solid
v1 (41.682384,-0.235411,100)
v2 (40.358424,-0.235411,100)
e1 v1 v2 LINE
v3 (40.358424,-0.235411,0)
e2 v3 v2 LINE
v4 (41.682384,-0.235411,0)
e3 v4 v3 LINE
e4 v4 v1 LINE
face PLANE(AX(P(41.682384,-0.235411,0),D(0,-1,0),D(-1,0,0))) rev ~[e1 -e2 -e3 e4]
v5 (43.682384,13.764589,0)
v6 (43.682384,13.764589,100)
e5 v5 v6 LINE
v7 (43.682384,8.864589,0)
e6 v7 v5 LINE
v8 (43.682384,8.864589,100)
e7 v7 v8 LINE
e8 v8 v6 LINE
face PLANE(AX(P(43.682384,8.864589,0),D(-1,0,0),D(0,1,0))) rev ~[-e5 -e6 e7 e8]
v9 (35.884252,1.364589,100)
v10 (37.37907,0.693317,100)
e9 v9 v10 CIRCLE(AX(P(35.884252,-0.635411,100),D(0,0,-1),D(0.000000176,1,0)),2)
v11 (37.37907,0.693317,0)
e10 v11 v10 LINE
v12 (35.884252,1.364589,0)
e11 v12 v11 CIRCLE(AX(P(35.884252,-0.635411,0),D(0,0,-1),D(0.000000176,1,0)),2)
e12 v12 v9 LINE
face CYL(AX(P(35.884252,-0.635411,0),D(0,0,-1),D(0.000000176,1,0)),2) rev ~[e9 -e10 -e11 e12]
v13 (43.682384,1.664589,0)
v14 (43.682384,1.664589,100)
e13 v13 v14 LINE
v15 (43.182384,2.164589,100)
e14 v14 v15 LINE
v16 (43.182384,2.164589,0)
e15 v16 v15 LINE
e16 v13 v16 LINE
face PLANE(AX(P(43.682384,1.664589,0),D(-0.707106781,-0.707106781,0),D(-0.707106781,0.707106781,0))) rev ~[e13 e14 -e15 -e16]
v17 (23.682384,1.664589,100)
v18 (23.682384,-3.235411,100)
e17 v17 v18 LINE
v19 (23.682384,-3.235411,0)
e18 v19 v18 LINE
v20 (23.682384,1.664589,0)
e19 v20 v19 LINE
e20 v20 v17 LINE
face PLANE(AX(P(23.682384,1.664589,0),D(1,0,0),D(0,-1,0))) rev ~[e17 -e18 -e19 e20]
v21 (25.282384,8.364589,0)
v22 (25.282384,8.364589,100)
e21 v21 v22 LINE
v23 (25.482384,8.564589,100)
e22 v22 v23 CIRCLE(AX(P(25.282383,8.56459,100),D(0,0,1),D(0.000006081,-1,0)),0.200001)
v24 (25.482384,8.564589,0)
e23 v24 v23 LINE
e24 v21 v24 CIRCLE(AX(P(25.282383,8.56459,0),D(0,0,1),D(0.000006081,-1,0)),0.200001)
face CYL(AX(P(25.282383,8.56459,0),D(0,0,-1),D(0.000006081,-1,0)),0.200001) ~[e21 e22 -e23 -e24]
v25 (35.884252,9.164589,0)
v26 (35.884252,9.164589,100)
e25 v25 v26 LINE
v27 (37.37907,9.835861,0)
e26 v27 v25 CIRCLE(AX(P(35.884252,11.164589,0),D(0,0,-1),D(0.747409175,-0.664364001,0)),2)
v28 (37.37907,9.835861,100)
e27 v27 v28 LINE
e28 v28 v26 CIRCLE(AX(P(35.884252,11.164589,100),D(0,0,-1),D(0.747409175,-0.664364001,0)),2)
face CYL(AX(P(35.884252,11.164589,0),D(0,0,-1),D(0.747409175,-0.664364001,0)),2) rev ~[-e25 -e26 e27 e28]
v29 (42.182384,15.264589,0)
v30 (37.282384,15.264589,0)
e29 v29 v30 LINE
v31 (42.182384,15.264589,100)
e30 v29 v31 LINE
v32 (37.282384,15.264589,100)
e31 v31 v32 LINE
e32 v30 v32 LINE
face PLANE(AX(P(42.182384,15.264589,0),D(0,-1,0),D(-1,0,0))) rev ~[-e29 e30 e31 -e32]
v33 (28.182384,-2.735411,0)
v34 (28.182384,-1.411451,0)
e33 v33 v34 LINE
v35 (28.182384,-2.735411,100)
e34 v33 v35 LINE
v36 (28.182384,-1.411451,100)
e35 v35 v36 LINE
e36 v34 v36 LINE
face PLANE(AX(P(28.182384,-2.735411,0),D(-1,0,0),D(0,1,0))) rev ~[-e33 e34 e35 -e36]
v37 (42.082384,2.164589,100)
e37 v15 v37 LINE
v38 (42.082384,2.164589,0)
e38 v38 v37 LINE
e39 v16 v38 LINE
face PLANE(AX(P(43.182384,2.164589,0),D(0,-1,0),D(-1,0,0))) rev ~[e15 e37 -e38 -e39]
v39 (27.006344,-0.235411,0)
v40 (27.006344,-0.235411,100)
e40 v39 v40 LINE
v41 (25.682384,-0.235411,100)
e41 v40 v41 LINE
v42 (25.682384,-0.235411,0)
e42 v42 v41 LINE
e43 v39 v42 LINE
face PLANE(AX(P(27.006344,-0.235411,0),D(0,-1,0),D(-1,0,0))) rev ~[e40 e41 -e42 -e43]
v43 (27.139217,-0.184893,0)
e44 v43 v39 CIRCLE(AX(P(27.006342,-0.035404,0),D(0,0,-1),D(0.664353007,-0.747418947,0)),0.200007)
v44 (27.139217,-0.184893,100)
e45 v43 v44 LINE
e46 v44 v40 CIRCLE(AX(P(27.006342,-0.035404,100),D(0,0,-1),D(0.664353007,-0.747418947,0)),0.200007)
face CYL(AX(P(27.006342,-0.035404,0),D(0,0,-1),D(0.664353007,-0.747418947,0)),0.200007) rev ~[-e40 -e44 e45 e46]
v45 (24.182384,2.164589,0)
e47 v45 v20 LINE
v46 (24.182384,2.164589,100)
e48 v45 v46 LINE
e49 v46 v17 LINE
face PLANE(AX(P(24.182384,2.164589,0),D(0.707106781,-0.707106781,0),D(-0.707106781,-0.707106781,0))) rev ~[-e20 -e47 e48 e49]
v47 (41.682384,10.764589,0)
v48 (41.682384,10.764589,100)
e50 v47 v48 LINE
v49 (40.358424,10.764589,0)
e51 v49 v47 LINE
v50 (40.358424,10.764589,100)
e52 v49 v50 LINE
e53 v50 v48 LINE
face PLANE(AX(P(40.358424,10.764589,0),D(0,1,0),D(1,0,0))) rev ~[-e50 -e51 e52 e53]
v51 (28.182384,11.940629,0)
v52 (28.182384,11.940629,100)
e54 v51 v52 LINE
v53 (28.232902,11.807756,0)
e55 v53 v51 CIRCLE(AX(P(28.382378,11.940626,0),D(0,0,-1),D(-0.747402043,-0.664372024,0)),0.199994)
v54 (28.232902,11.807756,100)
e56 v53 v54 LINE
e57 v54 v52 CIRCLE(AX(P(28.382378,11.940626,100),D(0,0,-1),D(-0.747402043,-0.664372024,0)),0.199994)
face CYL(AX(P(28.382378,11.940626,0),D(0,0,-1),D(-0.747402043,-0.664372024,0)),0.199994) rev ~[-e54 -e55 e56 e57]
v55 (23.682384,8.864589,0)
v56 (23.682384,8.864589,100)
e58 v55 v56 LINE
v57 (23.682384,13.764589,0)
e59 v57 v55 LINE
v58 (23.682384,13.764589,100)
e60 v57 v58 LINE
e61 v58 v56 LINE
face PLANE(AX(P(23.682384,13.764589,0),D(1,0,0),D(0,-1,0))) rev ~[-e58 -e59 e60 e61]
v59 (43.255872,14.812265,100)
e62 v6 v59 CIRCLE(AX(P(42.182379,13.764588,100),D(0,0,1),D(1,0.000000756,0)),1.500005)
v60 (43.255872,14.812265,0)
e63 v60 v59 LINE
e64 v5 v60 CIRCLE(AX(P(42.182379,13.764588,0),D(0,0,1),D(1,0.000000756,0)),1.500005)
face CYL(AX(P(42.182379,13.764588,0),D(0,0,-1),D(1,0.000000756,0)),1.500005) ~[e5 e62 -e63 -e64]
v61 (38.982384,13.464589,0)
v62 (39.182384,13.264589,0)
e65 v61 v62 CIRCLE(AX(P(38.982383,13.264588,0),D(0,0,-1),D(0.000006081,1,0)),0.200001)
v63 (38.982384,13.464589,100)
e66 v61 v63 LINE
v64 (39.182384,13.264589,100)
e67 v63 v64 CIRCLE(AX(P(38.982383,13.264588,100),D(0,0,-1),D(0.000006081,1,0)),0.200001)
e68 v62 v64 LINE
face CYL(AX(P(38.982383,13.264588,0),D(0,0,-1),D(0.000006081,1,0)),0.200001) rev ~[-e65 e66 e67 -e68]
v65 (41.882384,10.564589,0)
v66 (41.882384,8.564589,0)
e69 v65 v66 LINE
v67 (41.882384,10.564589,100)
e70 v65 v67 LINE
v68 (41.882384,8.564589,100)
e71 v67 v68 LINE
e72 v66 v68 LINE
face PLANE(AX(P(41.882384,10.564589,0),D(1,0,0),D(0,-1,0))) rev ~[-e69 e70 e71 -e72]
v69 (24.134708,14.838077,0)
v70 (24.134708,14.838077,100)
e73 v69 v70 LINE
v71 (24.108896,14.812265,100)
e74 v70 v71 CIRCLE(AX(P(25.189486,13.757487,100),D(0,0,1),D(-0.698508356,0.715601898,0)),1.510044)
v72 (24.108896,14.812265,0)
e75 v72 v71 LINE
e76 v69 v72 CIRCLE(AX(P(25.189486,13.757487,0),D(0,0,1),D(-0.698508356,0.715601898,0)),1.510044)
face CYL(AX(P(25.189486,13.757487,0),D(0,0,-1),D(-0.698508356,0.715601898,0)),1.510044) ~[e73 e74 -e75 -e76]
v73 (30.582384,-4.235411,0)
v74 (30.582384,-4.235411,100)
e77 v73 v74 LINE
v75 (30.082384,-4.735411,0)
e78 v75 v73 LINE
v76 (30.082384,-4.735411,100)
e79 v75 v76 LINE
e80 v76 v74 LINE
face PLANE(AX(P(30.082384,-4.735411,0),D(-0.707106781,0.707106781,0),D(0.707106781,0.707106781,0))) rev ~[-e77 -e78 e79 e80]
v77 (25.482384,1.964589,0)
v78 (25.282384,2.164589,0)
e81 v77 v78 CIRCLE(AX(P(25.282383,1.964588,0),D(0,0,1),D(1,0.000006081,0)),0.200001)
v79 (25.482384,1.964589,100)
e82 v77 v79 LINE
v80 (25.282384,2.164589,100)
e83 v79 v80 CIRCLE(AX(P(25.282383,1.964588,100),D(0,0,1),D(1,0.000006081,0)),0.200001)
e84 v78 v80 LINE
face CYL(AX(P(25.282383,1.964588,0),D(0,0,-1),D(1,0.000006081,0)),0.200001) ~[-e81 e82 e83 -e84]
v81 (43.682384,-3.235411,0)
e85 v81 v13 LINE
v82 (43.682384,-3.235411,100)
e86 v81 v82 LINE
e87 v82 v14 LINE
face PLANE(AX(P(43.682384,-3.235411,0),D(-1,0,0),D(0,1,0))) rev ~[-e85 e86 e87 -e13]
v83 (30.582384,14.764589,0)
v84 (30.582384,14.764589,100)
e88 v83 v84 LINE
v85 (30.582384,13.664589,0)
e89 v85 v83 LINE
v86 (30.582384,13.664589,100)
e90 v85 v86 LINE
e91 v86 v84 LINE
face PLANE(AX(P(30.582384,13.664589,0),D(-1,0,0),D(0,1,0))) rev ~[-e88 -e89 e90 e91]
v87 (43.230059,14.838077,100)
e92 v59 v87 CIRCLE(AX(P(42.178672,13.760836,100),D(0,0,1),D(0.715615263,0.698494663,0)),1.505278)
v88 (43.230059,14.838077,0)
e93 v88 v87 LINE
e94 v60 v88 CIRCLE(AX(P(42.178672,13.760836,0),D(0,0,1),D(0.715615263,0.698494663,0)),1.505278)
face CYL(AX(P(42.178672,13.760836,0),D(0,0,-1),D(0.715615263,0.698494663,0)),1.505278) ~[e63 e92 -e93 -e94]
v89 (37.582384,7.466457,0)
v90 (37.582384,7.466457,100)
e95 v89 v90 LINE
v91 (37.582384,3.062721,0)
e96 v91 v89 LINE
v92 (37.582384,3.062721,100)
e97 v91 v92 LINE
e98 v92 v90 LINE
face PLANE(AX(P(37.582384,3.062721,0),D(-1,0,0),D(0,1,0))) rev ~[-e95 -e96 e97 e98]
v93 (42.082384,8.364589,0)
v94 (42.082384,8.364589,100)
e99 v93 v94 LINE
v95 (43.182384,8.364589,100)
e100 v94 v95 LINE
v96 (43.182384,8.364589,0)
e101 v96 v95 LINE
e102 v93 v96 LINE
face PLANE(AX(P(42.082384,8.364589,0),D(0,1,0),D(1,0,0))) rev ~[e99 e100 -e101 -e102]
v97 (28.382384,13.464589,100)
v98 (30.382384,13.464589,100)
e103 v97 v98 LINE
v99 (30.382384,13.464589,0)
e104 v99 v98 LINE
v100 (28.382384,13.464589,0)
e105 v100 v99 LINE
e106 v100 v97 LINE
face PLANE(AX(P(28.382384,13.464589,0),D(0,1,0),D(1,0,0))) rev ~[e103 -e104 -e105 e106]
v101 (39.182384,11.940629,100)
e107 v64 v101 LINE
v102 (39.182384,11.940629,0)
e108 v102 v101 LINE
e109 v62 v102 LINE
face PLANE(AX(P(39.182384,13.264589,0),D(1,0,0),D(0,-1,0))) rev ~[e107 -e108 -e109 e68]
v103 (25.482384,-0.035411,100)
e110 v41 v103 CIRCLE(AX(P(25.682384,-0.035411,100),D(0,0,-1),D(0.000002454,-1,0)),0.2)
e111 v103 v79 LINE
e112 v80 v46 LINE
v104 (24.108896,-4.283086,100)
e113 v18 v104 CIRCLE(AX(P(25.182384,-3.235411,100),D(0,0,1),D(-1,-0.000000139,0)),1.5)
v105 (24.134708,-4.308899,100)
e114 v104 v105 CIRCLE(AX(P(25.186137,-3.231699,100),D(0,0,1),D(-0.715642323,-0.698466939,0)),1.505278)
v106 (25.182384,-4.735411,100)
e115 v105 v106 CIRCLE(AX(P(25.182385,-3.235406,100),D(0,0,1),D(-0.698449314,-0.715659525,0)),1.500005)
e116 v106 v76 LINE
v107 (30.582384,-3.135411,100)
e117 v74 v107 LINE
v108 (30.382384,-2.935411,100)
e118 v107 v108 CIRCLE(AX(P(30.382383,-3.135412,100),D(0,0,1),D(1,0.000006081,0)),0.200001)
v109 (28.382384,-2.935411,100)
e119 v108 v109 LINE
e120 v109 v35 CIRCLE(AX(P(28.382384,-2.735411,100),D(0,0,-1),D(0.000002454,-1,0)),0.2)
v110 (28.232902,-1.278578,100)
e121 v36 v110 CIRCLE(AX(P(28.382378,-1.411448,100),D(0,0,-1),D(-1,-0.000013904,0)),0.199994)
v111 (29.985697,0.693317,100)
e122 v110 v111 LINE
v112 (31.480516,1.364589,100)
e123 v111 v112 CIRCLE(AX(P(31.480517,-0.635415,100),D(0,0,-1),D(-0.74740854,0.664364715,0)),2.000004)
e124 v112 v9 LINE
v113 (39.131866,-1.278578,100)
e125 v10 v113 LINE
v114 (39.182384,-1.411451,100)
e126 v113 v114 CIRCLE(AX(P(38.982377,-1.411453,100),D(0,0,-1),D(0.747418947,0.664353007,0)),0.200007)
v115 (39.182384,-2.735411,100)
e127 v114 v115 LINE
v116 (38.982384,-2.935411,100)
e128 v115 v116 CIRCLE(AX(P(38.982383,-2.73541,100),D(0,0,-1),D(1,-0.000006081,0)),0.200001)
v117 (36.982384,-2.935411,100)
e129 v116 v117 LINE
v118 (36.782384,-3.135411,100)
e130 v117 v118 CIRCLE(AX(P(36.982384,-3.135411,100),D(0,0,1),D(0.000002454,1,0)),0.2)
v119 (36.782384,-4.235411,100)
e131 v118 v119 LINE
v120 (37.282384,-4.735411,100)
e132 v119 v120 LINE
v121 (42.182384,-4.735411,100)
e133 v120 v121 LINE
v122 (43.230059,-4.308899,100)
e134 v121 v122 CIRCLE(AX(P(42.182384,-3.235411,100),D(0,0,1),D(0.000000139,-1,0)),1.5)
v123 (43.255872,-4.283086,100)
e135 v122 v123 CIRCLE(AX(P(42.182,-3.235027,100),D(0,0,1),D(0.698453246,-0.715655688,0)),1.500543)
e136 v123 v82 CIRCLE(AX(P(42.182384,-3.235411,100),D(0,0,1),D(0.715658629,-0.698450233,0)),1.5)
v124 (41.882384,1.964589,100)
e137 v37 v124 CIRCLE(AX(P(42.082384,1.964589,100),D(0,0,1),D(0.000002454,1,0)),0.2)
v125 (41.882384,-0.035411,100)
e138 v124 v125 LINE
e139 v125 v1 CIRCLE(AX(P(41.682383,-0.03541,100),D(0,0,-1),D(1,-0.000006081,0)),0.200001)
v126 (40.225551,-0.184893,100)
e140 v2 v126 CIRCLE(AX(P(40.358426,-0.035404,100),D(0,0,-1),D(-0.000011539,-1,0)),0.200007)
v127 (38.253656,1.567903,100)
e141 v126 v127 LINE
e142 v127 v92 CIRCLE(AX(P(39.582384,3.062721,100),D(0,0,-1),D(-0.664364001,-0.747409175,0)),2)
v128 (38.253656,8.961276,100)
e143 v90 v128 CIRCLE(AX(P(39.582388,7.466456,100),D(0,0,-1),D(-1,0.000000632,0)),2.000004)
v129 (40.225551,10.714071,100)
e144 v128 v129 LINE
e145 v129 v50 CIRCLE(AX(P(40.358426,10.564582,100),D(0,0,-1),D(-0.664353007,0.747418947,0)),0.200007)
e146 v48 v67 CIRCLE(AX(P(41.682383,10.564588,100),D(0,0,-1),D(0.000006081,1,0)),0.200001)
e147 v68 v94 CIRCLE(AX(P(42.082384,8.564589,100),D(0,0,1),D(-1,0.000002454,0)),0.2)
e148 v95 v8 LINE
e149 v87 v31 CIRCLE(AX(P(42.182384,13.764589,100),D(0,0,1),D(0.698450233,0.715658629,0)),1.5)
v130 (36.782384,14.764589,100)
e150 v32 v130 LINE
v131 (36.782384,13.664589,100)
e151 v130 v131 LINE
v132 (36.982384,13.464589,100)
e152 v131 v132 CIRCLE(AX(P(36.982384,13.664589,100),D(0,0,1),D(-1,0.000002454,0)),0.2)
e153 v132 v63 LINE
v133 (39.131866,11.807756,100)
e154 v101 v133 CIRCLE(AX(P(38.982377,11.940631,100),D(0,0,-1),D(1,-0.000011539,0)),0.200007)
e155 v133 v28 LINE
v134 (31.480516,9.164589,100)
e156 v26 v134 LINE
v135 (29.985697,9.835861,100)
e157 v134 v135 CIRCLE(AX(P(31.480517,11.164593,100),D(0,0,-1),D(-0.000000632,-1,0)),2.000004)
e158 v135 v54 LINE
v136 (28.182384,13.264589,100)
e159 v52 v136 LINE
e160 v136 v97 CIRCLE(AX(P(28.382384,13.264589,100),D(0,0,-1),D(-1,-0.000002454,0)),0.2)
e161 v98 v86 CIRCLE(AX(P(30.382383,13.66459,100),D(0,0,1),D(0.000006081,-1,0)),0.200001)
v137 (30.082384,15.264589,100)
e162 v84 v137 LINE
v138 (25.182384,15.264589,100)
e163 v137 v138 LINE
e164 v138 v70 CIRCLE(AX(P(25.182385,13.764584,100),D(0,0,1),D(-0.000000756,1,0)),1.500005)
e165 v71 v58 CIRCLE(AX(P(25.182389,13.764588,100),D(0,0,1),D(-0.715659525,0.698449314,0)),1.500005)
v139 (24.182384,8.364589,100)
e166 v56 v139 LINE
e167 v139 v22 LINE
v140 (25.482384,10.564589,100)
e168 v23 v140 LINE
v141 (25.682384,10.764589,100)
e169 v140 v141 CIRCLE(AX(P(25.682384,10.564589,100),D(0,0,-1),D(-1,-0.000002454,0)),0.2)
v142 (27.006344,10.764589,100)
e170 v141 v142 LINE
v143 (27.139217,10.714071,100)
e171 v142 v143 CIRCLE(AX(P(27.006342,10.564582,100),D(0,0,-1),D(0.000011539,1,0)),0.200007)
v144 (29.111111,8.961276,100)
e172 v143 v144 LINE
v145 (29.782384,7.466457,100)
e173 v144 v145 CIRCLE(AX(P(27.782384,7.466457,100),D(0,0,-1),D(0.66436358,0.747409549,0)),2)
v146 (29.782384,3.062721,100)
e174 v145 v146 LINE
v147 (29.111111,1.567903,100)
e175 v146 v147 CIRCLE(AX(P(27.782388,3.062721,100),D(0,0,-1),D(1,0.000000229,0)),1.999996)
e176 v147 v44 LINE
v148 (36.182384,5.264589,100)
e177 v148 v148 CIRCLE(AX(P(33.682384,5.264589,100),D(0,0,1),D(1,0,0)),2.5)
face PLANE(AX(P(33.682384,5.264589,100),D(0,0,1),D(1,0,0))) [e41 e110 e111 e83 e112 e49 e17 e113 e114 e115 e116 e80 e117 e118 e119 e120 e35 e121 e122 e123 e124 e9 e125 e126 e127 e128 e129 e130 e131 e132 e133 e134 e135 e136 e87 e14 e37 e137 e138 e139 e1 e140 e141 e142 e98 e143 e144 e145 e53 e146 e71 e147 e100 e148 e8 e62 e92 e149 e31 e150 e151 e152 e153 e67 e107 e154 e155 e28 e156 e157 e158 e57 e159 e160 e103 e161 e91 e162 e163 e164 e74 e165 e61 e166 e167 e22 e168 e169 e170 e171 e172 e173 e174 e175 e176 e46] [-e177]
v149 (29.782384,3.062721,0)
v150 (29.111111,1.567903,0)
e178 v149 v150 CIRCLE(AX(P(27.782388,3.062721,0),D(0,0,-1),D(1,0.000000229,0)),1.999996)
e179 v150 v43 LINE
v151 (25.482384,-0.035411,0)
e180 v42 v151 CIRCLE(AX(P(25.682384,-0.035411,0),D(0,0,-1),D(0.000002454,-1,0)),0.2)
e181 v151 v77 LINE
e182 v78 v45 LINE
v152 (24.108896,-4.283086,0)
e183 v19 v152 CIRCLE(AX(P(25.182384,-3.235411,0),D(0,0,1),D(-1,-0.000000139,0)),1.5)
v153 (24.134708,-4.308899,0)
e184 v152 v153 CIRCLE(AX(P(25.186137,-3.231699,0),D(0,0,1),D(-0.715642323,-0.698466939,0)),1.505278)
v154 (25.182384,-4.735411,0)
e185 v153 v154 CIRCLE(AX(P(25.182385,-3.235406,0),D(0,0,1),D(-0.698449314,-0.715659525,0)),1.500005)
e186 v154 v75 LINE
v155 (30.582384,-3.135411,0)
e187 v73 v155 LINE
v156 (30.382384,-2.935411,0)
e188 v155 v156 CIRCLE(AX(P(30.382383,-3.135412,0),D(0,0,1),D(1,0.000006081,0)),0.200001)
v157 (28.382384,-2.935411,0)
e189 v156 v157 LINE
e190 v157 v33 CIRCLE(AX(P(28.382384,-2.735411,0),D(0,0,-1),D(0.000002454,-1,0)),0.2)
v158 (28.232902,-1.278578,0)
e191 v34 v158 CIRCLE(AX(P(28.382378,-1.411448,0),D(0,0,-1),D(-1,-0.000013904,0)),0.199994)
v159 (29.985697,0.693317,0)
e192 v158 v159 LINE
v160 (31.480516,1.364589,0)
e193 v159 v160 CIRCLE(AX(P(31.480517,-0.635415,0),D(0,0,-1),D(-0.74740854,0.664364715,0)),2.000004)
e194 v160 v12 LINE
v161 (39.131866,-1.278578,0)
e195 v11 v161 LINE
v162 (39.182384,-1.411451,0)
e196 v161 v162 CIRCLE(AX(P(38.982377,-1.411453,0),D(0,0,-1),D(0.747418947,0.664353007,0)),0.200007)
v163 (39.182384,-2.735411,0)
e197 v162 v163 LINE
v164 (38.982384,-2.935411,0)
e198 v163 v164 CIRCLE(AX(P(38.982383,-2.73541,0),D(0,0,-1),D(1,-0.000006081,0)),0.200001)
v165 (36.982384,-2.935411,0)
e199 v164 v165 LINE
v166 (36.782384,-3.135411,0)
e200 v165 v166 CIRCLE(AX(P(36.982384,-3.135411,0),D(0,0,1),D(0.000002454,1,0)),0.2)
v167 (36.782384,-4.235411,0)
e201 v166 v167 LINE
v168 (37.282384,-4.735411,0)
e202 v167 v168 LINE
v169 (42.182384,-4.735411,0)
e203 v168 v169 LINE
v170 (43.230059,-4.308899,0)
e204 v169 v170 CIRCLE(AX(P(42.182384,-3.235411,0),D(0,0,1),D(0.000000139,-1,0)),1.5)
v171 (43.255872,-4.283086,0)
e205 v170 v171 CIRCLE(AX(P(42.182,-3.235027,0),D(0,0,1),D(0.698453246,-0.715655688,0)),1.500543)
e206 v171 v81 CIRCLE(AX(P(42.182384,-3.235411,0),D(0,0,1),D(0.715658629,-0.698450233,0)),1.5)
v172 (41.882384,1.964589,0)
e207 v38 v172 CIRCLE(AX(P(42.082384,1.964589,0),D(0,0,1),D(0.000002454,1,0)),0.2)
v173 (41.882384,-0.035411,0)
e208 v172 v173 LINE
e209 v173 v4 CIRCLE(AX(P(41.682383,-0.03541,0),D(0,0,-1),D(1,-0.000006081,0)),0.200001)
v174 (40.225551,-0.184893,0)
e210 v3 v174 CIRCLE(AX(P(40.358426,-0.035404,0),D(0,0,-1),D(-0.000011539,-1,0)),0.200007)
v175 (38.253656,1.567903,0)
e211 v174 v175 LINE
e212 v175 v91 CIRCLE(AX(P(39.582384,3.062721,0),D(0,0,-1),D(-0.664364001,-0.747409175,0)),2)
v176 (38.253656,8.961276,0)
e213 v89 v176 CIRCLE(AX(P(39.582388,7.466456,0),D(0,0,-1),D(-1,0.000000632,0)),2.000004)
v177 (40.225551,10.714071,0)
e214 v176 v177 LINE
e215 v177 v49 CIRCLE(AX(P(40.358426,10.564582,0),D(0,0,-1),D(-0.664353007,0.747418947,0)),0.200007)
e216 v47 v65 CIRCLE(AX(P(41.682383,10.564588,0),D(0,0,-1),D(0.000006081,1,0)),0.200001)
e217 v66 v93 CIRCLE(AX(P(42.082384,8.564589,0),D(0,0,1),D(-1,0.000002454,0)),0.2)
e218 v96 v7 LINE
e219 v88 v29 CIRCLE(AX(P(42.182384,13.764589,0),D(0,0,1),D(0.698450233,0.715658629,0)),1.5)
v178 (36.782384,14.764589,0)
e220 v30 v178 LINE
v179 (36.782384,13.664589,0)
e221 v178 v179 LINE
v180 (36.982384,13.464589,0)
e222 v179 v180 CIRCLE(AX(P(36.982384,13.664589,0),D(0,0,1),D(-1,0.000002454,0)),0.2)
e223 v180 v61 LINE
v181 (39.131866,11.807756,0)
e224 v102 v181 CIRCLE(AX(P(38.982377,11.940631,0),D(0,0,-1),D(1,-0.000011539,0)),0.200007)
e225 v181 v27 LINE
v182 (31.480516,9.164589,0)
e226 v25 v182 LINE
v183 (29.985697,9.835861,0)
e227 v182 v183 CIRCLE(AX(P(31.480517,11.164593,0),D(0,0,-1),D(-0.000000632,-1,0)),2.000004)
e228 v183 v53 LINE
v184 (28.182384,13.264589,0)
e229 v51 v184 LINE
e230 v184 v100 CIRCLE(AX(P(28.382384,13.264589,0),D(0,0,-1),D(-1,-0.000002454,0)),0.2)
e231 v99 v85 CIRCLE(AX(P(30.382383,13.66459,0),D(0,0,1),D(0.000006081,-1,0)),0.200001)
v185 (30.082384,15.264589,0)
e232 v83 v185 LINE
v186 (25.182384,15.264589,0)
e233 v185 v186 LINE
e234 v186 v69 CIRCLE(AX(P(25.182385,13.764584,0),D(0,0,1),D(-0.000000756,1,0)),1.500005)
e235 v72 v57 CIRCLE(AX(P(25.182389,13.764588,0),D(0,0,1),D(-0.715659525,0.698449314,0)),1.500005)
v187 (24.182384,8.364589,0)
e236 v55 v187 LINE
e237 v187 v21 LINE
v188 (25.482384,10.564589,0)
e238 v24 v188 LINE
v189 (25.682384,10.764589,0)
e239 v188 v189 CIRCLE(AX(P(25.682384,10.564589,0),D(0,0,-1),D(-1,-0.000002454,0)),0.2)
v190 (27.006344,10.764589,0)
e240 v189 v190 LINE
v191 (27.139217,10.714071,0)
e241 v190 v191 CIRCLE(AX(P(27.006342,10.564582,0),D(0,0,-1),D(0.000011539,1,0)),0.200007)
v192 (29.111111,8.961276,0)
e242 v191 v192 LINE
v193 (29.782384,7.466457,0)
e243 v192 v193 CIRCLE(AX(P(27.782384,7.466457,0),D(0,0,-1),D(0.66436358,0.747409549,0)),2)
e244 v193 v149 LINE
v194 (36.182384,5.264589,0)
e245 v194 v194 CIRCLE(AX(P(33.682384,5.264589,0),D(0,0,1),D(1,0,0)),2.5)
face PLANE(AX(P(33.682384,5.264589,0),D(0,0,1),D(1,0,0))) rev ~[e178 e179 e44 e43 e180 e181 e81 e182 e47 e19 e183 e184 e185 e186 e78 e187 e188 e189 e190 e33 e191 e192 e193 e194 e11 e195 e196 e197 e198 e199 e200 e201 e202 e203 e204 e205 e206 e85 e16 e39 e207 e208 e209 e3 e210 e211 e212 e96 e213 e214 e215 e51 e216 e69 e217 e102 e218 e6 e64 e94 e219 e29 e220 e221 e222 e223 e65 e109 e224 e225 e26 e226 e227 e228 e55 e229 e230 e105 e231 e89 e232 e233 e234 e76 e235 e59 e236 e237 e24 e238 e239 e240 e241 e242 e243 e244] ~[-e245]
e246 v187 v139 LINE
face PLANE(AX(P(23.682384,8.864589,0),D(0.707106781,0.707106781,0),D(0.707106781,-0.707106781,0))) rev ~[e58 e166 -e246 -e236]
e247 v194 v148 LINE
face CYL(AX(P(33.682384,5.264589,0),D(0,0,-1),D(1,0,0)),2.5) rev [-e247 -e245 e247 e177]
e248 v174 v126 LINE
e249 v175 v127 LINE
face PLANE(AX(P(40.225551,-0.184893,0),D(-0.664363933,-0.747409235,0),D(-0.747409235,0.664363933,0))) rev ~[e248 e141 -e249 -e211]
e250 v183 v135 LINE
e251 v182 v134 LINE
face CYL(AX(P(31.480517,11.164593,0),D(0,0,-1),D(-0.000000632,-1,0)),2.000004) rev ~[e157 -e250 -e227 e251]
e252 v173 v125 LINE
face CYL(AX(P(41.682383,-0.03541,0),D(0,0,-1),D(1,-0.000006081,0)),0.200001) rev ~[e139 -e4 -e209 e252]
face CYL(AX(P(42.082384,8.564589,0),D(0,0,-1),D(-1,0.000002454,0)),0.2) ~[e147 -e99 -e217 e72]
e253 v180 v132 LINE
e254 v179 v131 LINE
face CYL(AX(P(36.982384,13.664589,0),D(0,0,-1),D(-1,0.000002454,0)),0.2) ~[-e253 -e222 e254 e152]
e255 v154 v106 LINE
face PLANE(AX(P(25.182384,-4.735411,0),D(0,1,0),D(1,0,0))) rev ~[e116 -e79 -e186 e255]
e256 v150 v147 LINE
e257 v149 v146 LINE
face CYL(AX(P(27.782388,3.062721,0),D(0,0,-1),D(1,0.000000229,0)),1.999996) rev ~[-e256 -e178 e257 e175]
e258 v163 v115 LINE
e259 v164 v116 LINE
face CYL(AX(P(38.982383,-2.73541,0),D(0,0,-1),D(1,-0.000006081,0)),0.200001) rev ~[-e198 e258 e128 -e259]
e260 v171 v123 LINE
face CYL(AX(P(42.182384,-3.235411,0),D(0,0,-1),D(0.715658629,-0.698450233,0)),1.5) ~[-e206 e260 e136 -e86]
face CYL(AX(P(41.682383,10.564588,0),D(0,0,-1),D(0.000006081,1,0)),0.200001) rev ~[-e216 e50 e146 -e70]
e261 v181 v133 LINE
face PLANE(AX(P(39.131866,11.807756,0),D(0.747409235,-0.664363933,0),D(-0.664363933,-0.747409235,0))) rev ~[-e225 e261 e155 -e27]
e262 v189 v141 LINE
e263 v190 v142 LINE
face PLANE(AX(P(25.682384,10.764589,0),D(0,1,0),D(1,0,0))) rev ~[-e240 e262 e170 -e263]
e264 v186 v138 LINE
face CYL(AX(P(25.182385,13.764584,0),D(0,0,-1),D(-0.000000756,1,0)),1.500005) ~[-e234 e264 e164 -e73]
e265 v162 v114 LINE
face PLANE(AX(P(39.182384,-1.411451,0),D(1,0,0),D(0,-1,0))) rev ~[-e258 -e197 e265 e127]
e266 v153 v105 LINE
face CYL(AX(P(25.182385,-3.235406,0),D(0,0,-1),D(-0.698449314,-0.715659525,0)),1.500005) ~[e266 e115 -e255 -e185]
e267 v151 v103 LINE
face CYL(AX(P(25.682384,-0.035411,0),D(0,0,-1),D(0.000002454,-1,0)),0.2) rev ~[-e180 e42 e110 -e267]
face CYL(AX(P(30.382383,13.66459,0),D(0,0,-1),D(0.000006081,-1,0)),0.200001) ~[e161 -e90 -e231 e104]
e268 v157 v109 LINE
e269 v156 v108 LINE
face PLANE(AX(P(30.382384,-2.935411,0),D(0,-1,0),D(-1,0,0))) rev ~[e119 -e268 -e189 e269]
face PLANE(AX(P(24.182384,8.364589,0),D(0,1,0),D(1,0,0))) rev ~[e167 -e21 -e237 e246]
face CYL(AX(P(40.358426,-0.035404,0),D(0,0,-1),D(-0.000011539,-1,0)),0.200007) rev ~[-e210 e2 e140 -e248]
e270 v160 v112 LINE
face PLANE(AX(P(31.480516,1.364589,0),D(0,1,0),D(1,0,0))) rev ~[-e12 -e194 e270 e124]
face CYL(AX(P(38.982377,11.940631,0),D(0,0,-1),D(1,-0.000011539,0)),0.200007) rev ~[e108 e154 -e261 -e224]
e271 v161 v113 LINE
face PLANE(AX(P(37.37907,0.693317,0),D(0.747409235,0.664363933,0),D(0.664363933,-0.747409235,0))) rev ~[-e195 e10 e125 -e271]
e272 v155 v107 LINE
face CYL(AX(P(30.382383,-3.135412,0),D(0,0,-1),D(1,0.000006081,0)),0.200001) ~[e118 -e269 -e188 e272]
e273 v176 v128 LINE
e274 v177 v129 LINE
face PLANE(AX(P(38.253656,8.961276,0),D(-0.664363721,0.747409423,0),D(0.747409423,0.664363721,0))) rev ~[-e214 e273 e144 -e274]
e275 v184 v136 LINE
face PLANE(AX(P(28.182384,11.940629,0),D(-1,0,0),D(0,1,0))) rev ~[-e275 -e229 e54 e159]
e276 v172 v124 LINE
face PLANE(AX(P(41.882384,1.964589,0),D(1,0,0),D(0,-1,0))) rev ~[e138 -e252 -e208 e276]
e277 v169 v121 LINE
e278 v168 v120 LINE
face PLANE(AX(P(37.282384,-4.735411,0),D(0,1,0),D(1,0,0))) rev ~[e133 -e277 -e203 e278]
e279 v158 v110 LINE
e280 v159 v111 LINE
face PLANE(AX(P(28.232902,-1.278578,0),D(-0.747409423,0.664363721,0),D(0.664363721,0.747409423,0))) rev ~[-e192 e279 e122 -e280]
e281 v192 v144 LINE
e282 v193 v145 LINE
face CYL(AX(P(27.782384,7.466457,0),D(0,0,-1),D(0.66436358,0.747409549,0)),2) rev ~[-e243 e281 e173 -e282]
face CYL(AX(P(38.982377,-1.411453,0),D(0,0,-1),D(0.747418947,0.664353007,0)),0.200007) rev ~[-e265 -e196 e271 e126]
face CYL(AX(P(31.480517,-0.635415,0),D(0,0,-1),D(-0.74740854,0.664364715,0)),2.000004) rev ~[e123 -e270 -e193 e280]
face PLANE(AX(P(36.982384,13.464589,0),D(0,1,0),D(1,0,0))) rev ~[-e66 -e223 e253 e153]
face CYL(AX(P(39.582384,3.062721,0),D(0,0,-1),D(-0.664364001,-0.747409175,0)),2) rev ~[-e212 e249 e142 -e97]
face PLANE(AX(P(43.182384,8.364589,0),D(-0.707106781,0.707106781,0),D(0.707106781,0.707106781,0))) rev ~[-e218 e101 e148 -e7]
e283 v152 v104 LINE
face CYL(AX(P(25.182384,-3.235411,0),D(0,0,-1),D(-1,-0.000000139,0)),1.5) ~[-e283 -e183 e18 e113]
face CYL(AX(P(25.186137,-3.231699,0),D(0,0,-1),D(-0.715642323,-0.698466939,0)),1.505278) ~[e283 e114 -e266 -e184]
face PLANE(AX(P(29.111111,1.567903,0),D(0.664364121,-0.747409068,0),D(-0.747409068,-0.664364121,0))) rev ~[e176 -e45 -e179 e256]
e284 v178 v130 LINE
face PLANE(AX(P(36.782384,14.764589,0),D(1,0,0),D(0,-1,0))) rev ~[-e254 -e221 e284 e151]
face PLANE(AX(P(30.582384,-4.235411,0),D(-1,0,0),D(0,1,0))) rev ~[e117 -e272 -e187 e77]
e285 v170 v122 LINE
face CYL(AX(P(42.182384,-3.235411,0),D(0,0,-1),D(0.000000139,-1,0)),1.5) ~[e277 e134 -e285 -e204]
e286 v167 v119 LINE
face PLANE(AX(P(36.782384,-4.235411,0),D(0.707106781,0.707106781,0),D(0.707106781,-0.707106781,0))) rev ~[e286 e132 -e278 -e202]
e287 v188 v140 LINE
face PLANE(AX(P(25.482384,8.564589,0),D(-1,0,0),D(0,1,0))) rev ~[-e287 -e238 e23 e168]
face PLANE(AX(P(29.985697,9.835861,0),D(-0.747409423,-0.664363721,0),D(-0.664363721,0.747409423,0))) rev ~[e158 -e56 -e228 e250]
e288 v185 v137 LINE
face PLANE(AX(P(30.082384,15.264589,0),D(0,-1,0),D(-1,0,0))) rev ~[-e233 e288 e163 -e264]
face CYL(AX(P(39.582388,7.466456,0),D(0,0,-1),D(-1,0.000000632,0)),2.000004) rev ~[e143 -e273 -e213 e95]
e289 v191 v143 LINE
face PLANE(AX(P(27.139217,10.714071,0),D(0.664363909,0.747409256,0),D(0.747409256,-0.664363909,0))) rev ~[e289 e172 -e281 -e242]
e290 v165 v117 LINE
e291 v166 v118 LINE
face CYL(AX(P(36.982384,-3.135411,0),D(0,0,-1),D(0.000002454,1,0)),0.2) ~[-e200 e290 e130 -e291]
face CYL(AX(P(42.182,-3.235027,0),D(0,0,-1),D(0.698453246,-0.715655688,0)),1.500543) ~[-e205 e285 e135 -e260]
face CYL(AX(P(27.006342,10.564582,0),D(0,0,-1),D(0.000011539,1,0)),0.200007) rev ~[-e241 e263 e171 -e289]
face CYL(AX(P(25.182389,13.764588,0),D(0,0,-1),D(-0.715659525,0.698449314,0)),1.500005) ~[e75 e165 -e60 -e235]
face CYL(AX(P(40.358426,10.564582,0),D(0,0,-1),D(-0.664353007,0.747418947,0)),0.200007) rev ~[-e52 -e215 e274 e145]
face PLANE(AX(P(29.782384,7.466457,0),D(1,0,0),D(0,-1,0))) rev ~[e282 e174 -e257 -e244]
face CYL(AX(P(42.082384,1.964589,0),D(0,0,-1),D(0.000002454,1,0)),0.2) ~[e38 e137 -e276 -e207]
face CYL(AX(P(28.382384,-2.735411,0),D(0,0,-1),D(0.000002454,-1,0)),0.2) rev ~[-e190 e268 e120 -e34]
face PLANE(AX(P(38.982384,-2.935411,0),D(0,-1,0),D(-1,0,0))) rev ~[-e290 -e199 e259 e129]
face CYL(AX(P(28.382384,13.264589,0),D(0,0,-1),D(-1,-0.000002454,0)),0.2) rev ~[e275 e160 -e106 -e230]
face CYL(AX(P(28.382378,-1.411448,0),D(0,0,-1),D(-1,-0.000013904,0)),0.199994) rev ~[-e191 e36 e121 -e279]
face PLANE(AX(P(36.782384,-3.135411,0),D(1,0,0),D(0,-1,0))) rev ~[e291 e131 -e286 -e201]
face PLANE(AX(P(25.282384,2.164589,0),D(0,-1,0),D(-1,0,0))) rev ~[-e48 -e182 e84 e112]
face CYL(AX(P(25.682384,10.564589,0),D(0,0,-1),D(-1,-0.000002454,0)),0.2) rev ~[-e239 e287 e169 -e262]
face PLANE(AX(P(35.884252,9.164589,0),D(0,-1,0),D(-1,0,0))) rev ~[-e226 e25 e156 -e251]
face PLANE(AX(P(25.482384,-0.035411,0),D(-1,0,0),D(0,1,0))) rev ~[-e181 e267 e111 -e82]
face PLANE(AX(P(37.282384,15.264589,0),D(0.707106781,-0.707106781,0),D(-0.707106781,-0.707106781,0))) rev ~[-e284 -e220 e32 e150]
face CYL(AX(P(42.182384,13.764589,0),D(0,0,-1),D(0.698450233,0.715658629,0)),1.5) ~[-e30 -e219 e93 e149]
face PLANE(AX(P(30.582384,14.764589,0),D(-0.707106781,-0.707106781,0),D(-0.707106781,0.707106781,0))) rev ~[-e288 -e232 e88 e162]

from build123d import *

# Parameters (mm, degrees)
F0_R     = 2.5
F1_DEPTH = 100


with BuildPart() as f1:
    # F0 (on Top) → F1 (new body)
    with BuildSketch(Plane.XY):
        with BuildLine():
            Line((30.582384, 13.664589), (30.582384, 14.764589))
            Line((30.582384, 14.764589), (30.082384, 15.264589))
            Line((30.082384, 15.264589), (25.182384, 15.264589))
            ThreePointArc((25.182384, 15.264589), (24.616801, 15.153875), (24.134708, 14.838077))
            ThreePointArc((24.134708, 14.838077), (24.121724, 14.825249), (24.108896, 14.812265))
            ThreePointArc((24.108896, 14.812265), (23.793098, 14.330172), (23.682384, 13.764589))
            Line((23.682384, 13.764589), (23.682384, 8.864589))
            Line((23.682384, 8.864589), (24.182384, 8.364589))
            Line((24.182384, 8.364589), (25.282384, 8.364589))
            ThreePointArc((25.282384, 8.364589), (25.423805, 8.423168), (25.482384, 8.564589))
            Line((25.482384, 8.564589), (25.482384, 10.564589))
            ThreePointArc((25.482384, 10.564589), (25.540962, 10.70601), (25.682384, 10.764589))
            Line((25.682384, 10.764589), (27.006344, 10.764589))
            ThreePointArc((27.006344, 10.764589), (27.07742, 10.751533), (27.139217, 10.714071))
            Line((27.139217, 10.714071), (29.111111, 8.961276))
            ThreePointArc((29.111111, 8.961276), (29.606864, 8.285769), (29.782384, 7.466457))
            Line((29.782384, 7.466457), (29.782384, 5.264589))
            Line((29.782384, 5.264589), (29.782384, 3.062721))
            ThreePointArc((29.782384, 3.062721), (29.606864, 2.243409), (29.111111, 1.567903))
            Line((29.111111, 1.567903), (27.139217, -0.184893))
            ThreePointArc((27.139217, -0.184893), (27.07742, -0.222355), (27.006344, -0.235411))
            Line((27.006344, -0.235411), (25.682384, -0.235411))
            ThreePointArc((25.682384, -0.235411), (25.540962, -0.176832), (25.482384, -0.035411))
            Line((25.482384, -0.035411), (25.482384, 1.964589))
            ThreePointArc((25.482384, 1.964589), (25.423805, 2.10601), (25.282384, 2.164589))
            Line((25.282384, 2.164589), (24.182384, 2.164589))
            Line((24.182384, 2.164589), (23.682384, 1.664589))
            Line((23.682384, 1.664589), (23.682384, -3.235411))
            ThreePointArc((23.682384, -3.235411), (23.793098, -3.800994), (24.108896, -4.283086))
            ThreePointArc((24.108896, -4.283086), (24.121724, -4.296071), (24.134708, -4.308899))
            ThreePointArc((24.134708, -4.308899), (24.616801, -4.624697), (25.182384, -4.735411))
            Line((25.182384, -4.735411), (30.082384, -4.735411))
            Line((30.082384, -4.735411), (30.582384, -4.235411))
            Line((30.582384, -4.235411), (30.582384, -3.135411))
            ThreePointArc((30.582384, -3.135411), (30.523805, -2.99399), (30.382384, -2.935411))
            Line((30.382384, -2.935411), (28.382384, -2.935411))
            ThreePointArc((28.382384, -2.935411), (28.240962, -2.876832), (28.182384, -2.735411))
            Line((28.182384, -2.735411), (28.182384, -1.411451))
            ThreePointArc((28.182384, -1.411451), (28.195439, -1.340375), (28.232902, -1.278578))
            Line((28.232902, -1.278578), (29.985697, 0.693317))
            ThreePointArc((29.985697, 0.693317), (30.661204, 1.189069), (31.480516, 1.364589))
            Line((31.480516, 1.364589), (33.682384, 1.364589))
            Line((33.682384, 1.364589), (35.884252, 1.364589))
            ThreePointArc((35.884252, 1.364589), (36.703564, 1.189069), (37.37907, 0.693317))
            Line((37.37907, 0.693317), (39.131866, -1.278578))
            ThreePointArc((39.131866, -1.278578), (39.169328, -1.340375), (39.182384, -1.411451))
            Line((39.182384, -1.411451), (39.182384, -2.735411))
            ThreePointArc((39.182384, -2.735411), (39.123805, -2.876832), (38.982384, -2.935411))
            Line((38.982384, -2.935411), (36.982384, -2.935411))
            ThreePointArc((36.982384, -2.935411), (36.840962, -2.99399), (36.782384, -3.135411))
            Line((36.782384, -3.135411), (36.782384, -4.235411))
            Line((36.782384, -4.235411), (37.282384, -4.735411))
            Line((37.282384, -4.735411), (42.182384, -4.735411))
            ThreePointArc((42.182384, -4.735411), (42.747967, -4.624697), (43.230059, -4.308899))
            ThreePointArc((43.230059, -4.308899), (43.243044, -4.296071), (43.255872, -4.283086))
            ThreePointArc((43.255872, -4.283086), (43.57167, -3.800994), (43.682384, -3.235411))
            Line((43.682384, -3.235411), (43.682384, 1.664589))
            Line((43.682384, 1.664589), (43.182384, 2.164589))
            Line((43.182384, 2.164589), (42.082384, 2.164589))
            ThreePointArc((42.082384, 2.164589), (41.940962, 2.10601), (41.882384, 1.964589))
            Line((41.882384, 1.964589), (41.882384, -0.035411))
            ThreePointArc((41.882384, -0.035411), (41.823805, -0.176832), (41.682384, -0.235411))
            Line((41.682384, -0.235411), (40.358424, -0.235411))
            ThreePointArc((40.358424, -0.235411), (40.287348, -0.222355), (40.225551, -0.184893))
            Line((40.225551, -0.184893), (38.253656, 1.567903))
            ThreePointArc((38.253656, 1.567903), (37.757904, 2.243409), (37.582384, 3.062721))
            Line((37.582384, 3.062721), (37.582384, 5.264589))
            Line((37.582384, 5.264589), (37.582384, 7.466457))
            ThreePointArc((37.582384, 7.466457), (37.757904, 8.285769), (38.253656, 8.961276))
            Line((38.253656, 8.961276), (40.225551, 10.714071))
            ThreePointArc((40.225551, 10.714071), (40.287348, 10.751533), (40.358424, 10.764589))
            Line((40.358424, 10.764589), (41.682384, 10.764589))
            ThreePointArc((41.682384, 10.764589), (41.823805, 10.70601), (41.882384, 10.564589))
            Line((41.882384, 10.564589), (41.882384, 8.564589))
            ThreePointArc((41.882384, 8.564589), (41.940962, 8.423168), (42.082384, 8.364589))
            Line((42.082384, 8.364589), (43.182384, 8.364589))
            Line((43.182384, 8.364589), (43.682384, 8.864589))
            Line((43.682384, 8.864589), (43.682384, 13.764589))
            ThreePointArc((43.682384, 13.764589), (43.57167, 14.330172), (43.255872, 14.812265))
            ThreePointArc((43.255872, 14.812265), (43.243044, 14.825249), (43.230059, 14.838077))
            ThreePointArc((43.230059, 14.838077), (42.747967, 15.153875), (42.182384, 15.264589))
            Line((42.182384, 15.264589), (37.282384, 15.264589))
            Line((37.282384, 15.264589), (36.782384, 14.764589))
            Line((36.782384, 14.764589), (36.782384, 13.664589))
            ThreePointArc((36.782384, 13.664589), (36.840962, 13.523168), (36.982384, 13.464589))
            Line((36.982384, 13.464589), (38.982384, 13.464589))
            ThreePointArc((38.982384, 13.464589), (39.123805, 13.40601), (39.182384, 13.264589))
            Line((39.182384, 13.264589), (39.182384, 11.940629))
            ThreePointArc((39.182384, 11.940629), (39.169328, 11.869553), (39.131866, 11.807756))
            Line((39.131866, 11.807756), (37.37907, 9.835861))
            ThreePointArc((37.37907, 9.835861), (36.703564, 9.340109), (35.884252, 9.164589))
            Line((35.884252, 9.164589), (33.682384, 9.164589))
            Line((33.682384, 9.164589), (31.480516, 9.164589))
            ThreePointArc((31.480516, 9.164589), (30.661204, 9.340109), (29.985697, 9.835861))
            Line((29.985697, 9.835861), (28.232902, 11.807756))
            ThreePointArc((28.232902, 11.807756), (28.195439, 11.869553), (28.182384, 11.940629))
            Line((28.182384, 11.940629), (28.182384, 13.264589))
            ThreePointArc((28.182384, 13.264589), (28.240962, 13.40601), (28.382384, 13.464589))
            Line((28.382384, 13.464589), (30.382384, 13.464589))
            ThreePointArc((30.382384, 13.464589), (30.523805, 13.523168), (30.582384, 13.664589))
        make_face()
        with Locations((33.682384, 5.264589)):
            Circle(F0_R, mode=Mode.SUBTRACT)
    extrude(amount=F1_DEPTH)


solid = f1.part
